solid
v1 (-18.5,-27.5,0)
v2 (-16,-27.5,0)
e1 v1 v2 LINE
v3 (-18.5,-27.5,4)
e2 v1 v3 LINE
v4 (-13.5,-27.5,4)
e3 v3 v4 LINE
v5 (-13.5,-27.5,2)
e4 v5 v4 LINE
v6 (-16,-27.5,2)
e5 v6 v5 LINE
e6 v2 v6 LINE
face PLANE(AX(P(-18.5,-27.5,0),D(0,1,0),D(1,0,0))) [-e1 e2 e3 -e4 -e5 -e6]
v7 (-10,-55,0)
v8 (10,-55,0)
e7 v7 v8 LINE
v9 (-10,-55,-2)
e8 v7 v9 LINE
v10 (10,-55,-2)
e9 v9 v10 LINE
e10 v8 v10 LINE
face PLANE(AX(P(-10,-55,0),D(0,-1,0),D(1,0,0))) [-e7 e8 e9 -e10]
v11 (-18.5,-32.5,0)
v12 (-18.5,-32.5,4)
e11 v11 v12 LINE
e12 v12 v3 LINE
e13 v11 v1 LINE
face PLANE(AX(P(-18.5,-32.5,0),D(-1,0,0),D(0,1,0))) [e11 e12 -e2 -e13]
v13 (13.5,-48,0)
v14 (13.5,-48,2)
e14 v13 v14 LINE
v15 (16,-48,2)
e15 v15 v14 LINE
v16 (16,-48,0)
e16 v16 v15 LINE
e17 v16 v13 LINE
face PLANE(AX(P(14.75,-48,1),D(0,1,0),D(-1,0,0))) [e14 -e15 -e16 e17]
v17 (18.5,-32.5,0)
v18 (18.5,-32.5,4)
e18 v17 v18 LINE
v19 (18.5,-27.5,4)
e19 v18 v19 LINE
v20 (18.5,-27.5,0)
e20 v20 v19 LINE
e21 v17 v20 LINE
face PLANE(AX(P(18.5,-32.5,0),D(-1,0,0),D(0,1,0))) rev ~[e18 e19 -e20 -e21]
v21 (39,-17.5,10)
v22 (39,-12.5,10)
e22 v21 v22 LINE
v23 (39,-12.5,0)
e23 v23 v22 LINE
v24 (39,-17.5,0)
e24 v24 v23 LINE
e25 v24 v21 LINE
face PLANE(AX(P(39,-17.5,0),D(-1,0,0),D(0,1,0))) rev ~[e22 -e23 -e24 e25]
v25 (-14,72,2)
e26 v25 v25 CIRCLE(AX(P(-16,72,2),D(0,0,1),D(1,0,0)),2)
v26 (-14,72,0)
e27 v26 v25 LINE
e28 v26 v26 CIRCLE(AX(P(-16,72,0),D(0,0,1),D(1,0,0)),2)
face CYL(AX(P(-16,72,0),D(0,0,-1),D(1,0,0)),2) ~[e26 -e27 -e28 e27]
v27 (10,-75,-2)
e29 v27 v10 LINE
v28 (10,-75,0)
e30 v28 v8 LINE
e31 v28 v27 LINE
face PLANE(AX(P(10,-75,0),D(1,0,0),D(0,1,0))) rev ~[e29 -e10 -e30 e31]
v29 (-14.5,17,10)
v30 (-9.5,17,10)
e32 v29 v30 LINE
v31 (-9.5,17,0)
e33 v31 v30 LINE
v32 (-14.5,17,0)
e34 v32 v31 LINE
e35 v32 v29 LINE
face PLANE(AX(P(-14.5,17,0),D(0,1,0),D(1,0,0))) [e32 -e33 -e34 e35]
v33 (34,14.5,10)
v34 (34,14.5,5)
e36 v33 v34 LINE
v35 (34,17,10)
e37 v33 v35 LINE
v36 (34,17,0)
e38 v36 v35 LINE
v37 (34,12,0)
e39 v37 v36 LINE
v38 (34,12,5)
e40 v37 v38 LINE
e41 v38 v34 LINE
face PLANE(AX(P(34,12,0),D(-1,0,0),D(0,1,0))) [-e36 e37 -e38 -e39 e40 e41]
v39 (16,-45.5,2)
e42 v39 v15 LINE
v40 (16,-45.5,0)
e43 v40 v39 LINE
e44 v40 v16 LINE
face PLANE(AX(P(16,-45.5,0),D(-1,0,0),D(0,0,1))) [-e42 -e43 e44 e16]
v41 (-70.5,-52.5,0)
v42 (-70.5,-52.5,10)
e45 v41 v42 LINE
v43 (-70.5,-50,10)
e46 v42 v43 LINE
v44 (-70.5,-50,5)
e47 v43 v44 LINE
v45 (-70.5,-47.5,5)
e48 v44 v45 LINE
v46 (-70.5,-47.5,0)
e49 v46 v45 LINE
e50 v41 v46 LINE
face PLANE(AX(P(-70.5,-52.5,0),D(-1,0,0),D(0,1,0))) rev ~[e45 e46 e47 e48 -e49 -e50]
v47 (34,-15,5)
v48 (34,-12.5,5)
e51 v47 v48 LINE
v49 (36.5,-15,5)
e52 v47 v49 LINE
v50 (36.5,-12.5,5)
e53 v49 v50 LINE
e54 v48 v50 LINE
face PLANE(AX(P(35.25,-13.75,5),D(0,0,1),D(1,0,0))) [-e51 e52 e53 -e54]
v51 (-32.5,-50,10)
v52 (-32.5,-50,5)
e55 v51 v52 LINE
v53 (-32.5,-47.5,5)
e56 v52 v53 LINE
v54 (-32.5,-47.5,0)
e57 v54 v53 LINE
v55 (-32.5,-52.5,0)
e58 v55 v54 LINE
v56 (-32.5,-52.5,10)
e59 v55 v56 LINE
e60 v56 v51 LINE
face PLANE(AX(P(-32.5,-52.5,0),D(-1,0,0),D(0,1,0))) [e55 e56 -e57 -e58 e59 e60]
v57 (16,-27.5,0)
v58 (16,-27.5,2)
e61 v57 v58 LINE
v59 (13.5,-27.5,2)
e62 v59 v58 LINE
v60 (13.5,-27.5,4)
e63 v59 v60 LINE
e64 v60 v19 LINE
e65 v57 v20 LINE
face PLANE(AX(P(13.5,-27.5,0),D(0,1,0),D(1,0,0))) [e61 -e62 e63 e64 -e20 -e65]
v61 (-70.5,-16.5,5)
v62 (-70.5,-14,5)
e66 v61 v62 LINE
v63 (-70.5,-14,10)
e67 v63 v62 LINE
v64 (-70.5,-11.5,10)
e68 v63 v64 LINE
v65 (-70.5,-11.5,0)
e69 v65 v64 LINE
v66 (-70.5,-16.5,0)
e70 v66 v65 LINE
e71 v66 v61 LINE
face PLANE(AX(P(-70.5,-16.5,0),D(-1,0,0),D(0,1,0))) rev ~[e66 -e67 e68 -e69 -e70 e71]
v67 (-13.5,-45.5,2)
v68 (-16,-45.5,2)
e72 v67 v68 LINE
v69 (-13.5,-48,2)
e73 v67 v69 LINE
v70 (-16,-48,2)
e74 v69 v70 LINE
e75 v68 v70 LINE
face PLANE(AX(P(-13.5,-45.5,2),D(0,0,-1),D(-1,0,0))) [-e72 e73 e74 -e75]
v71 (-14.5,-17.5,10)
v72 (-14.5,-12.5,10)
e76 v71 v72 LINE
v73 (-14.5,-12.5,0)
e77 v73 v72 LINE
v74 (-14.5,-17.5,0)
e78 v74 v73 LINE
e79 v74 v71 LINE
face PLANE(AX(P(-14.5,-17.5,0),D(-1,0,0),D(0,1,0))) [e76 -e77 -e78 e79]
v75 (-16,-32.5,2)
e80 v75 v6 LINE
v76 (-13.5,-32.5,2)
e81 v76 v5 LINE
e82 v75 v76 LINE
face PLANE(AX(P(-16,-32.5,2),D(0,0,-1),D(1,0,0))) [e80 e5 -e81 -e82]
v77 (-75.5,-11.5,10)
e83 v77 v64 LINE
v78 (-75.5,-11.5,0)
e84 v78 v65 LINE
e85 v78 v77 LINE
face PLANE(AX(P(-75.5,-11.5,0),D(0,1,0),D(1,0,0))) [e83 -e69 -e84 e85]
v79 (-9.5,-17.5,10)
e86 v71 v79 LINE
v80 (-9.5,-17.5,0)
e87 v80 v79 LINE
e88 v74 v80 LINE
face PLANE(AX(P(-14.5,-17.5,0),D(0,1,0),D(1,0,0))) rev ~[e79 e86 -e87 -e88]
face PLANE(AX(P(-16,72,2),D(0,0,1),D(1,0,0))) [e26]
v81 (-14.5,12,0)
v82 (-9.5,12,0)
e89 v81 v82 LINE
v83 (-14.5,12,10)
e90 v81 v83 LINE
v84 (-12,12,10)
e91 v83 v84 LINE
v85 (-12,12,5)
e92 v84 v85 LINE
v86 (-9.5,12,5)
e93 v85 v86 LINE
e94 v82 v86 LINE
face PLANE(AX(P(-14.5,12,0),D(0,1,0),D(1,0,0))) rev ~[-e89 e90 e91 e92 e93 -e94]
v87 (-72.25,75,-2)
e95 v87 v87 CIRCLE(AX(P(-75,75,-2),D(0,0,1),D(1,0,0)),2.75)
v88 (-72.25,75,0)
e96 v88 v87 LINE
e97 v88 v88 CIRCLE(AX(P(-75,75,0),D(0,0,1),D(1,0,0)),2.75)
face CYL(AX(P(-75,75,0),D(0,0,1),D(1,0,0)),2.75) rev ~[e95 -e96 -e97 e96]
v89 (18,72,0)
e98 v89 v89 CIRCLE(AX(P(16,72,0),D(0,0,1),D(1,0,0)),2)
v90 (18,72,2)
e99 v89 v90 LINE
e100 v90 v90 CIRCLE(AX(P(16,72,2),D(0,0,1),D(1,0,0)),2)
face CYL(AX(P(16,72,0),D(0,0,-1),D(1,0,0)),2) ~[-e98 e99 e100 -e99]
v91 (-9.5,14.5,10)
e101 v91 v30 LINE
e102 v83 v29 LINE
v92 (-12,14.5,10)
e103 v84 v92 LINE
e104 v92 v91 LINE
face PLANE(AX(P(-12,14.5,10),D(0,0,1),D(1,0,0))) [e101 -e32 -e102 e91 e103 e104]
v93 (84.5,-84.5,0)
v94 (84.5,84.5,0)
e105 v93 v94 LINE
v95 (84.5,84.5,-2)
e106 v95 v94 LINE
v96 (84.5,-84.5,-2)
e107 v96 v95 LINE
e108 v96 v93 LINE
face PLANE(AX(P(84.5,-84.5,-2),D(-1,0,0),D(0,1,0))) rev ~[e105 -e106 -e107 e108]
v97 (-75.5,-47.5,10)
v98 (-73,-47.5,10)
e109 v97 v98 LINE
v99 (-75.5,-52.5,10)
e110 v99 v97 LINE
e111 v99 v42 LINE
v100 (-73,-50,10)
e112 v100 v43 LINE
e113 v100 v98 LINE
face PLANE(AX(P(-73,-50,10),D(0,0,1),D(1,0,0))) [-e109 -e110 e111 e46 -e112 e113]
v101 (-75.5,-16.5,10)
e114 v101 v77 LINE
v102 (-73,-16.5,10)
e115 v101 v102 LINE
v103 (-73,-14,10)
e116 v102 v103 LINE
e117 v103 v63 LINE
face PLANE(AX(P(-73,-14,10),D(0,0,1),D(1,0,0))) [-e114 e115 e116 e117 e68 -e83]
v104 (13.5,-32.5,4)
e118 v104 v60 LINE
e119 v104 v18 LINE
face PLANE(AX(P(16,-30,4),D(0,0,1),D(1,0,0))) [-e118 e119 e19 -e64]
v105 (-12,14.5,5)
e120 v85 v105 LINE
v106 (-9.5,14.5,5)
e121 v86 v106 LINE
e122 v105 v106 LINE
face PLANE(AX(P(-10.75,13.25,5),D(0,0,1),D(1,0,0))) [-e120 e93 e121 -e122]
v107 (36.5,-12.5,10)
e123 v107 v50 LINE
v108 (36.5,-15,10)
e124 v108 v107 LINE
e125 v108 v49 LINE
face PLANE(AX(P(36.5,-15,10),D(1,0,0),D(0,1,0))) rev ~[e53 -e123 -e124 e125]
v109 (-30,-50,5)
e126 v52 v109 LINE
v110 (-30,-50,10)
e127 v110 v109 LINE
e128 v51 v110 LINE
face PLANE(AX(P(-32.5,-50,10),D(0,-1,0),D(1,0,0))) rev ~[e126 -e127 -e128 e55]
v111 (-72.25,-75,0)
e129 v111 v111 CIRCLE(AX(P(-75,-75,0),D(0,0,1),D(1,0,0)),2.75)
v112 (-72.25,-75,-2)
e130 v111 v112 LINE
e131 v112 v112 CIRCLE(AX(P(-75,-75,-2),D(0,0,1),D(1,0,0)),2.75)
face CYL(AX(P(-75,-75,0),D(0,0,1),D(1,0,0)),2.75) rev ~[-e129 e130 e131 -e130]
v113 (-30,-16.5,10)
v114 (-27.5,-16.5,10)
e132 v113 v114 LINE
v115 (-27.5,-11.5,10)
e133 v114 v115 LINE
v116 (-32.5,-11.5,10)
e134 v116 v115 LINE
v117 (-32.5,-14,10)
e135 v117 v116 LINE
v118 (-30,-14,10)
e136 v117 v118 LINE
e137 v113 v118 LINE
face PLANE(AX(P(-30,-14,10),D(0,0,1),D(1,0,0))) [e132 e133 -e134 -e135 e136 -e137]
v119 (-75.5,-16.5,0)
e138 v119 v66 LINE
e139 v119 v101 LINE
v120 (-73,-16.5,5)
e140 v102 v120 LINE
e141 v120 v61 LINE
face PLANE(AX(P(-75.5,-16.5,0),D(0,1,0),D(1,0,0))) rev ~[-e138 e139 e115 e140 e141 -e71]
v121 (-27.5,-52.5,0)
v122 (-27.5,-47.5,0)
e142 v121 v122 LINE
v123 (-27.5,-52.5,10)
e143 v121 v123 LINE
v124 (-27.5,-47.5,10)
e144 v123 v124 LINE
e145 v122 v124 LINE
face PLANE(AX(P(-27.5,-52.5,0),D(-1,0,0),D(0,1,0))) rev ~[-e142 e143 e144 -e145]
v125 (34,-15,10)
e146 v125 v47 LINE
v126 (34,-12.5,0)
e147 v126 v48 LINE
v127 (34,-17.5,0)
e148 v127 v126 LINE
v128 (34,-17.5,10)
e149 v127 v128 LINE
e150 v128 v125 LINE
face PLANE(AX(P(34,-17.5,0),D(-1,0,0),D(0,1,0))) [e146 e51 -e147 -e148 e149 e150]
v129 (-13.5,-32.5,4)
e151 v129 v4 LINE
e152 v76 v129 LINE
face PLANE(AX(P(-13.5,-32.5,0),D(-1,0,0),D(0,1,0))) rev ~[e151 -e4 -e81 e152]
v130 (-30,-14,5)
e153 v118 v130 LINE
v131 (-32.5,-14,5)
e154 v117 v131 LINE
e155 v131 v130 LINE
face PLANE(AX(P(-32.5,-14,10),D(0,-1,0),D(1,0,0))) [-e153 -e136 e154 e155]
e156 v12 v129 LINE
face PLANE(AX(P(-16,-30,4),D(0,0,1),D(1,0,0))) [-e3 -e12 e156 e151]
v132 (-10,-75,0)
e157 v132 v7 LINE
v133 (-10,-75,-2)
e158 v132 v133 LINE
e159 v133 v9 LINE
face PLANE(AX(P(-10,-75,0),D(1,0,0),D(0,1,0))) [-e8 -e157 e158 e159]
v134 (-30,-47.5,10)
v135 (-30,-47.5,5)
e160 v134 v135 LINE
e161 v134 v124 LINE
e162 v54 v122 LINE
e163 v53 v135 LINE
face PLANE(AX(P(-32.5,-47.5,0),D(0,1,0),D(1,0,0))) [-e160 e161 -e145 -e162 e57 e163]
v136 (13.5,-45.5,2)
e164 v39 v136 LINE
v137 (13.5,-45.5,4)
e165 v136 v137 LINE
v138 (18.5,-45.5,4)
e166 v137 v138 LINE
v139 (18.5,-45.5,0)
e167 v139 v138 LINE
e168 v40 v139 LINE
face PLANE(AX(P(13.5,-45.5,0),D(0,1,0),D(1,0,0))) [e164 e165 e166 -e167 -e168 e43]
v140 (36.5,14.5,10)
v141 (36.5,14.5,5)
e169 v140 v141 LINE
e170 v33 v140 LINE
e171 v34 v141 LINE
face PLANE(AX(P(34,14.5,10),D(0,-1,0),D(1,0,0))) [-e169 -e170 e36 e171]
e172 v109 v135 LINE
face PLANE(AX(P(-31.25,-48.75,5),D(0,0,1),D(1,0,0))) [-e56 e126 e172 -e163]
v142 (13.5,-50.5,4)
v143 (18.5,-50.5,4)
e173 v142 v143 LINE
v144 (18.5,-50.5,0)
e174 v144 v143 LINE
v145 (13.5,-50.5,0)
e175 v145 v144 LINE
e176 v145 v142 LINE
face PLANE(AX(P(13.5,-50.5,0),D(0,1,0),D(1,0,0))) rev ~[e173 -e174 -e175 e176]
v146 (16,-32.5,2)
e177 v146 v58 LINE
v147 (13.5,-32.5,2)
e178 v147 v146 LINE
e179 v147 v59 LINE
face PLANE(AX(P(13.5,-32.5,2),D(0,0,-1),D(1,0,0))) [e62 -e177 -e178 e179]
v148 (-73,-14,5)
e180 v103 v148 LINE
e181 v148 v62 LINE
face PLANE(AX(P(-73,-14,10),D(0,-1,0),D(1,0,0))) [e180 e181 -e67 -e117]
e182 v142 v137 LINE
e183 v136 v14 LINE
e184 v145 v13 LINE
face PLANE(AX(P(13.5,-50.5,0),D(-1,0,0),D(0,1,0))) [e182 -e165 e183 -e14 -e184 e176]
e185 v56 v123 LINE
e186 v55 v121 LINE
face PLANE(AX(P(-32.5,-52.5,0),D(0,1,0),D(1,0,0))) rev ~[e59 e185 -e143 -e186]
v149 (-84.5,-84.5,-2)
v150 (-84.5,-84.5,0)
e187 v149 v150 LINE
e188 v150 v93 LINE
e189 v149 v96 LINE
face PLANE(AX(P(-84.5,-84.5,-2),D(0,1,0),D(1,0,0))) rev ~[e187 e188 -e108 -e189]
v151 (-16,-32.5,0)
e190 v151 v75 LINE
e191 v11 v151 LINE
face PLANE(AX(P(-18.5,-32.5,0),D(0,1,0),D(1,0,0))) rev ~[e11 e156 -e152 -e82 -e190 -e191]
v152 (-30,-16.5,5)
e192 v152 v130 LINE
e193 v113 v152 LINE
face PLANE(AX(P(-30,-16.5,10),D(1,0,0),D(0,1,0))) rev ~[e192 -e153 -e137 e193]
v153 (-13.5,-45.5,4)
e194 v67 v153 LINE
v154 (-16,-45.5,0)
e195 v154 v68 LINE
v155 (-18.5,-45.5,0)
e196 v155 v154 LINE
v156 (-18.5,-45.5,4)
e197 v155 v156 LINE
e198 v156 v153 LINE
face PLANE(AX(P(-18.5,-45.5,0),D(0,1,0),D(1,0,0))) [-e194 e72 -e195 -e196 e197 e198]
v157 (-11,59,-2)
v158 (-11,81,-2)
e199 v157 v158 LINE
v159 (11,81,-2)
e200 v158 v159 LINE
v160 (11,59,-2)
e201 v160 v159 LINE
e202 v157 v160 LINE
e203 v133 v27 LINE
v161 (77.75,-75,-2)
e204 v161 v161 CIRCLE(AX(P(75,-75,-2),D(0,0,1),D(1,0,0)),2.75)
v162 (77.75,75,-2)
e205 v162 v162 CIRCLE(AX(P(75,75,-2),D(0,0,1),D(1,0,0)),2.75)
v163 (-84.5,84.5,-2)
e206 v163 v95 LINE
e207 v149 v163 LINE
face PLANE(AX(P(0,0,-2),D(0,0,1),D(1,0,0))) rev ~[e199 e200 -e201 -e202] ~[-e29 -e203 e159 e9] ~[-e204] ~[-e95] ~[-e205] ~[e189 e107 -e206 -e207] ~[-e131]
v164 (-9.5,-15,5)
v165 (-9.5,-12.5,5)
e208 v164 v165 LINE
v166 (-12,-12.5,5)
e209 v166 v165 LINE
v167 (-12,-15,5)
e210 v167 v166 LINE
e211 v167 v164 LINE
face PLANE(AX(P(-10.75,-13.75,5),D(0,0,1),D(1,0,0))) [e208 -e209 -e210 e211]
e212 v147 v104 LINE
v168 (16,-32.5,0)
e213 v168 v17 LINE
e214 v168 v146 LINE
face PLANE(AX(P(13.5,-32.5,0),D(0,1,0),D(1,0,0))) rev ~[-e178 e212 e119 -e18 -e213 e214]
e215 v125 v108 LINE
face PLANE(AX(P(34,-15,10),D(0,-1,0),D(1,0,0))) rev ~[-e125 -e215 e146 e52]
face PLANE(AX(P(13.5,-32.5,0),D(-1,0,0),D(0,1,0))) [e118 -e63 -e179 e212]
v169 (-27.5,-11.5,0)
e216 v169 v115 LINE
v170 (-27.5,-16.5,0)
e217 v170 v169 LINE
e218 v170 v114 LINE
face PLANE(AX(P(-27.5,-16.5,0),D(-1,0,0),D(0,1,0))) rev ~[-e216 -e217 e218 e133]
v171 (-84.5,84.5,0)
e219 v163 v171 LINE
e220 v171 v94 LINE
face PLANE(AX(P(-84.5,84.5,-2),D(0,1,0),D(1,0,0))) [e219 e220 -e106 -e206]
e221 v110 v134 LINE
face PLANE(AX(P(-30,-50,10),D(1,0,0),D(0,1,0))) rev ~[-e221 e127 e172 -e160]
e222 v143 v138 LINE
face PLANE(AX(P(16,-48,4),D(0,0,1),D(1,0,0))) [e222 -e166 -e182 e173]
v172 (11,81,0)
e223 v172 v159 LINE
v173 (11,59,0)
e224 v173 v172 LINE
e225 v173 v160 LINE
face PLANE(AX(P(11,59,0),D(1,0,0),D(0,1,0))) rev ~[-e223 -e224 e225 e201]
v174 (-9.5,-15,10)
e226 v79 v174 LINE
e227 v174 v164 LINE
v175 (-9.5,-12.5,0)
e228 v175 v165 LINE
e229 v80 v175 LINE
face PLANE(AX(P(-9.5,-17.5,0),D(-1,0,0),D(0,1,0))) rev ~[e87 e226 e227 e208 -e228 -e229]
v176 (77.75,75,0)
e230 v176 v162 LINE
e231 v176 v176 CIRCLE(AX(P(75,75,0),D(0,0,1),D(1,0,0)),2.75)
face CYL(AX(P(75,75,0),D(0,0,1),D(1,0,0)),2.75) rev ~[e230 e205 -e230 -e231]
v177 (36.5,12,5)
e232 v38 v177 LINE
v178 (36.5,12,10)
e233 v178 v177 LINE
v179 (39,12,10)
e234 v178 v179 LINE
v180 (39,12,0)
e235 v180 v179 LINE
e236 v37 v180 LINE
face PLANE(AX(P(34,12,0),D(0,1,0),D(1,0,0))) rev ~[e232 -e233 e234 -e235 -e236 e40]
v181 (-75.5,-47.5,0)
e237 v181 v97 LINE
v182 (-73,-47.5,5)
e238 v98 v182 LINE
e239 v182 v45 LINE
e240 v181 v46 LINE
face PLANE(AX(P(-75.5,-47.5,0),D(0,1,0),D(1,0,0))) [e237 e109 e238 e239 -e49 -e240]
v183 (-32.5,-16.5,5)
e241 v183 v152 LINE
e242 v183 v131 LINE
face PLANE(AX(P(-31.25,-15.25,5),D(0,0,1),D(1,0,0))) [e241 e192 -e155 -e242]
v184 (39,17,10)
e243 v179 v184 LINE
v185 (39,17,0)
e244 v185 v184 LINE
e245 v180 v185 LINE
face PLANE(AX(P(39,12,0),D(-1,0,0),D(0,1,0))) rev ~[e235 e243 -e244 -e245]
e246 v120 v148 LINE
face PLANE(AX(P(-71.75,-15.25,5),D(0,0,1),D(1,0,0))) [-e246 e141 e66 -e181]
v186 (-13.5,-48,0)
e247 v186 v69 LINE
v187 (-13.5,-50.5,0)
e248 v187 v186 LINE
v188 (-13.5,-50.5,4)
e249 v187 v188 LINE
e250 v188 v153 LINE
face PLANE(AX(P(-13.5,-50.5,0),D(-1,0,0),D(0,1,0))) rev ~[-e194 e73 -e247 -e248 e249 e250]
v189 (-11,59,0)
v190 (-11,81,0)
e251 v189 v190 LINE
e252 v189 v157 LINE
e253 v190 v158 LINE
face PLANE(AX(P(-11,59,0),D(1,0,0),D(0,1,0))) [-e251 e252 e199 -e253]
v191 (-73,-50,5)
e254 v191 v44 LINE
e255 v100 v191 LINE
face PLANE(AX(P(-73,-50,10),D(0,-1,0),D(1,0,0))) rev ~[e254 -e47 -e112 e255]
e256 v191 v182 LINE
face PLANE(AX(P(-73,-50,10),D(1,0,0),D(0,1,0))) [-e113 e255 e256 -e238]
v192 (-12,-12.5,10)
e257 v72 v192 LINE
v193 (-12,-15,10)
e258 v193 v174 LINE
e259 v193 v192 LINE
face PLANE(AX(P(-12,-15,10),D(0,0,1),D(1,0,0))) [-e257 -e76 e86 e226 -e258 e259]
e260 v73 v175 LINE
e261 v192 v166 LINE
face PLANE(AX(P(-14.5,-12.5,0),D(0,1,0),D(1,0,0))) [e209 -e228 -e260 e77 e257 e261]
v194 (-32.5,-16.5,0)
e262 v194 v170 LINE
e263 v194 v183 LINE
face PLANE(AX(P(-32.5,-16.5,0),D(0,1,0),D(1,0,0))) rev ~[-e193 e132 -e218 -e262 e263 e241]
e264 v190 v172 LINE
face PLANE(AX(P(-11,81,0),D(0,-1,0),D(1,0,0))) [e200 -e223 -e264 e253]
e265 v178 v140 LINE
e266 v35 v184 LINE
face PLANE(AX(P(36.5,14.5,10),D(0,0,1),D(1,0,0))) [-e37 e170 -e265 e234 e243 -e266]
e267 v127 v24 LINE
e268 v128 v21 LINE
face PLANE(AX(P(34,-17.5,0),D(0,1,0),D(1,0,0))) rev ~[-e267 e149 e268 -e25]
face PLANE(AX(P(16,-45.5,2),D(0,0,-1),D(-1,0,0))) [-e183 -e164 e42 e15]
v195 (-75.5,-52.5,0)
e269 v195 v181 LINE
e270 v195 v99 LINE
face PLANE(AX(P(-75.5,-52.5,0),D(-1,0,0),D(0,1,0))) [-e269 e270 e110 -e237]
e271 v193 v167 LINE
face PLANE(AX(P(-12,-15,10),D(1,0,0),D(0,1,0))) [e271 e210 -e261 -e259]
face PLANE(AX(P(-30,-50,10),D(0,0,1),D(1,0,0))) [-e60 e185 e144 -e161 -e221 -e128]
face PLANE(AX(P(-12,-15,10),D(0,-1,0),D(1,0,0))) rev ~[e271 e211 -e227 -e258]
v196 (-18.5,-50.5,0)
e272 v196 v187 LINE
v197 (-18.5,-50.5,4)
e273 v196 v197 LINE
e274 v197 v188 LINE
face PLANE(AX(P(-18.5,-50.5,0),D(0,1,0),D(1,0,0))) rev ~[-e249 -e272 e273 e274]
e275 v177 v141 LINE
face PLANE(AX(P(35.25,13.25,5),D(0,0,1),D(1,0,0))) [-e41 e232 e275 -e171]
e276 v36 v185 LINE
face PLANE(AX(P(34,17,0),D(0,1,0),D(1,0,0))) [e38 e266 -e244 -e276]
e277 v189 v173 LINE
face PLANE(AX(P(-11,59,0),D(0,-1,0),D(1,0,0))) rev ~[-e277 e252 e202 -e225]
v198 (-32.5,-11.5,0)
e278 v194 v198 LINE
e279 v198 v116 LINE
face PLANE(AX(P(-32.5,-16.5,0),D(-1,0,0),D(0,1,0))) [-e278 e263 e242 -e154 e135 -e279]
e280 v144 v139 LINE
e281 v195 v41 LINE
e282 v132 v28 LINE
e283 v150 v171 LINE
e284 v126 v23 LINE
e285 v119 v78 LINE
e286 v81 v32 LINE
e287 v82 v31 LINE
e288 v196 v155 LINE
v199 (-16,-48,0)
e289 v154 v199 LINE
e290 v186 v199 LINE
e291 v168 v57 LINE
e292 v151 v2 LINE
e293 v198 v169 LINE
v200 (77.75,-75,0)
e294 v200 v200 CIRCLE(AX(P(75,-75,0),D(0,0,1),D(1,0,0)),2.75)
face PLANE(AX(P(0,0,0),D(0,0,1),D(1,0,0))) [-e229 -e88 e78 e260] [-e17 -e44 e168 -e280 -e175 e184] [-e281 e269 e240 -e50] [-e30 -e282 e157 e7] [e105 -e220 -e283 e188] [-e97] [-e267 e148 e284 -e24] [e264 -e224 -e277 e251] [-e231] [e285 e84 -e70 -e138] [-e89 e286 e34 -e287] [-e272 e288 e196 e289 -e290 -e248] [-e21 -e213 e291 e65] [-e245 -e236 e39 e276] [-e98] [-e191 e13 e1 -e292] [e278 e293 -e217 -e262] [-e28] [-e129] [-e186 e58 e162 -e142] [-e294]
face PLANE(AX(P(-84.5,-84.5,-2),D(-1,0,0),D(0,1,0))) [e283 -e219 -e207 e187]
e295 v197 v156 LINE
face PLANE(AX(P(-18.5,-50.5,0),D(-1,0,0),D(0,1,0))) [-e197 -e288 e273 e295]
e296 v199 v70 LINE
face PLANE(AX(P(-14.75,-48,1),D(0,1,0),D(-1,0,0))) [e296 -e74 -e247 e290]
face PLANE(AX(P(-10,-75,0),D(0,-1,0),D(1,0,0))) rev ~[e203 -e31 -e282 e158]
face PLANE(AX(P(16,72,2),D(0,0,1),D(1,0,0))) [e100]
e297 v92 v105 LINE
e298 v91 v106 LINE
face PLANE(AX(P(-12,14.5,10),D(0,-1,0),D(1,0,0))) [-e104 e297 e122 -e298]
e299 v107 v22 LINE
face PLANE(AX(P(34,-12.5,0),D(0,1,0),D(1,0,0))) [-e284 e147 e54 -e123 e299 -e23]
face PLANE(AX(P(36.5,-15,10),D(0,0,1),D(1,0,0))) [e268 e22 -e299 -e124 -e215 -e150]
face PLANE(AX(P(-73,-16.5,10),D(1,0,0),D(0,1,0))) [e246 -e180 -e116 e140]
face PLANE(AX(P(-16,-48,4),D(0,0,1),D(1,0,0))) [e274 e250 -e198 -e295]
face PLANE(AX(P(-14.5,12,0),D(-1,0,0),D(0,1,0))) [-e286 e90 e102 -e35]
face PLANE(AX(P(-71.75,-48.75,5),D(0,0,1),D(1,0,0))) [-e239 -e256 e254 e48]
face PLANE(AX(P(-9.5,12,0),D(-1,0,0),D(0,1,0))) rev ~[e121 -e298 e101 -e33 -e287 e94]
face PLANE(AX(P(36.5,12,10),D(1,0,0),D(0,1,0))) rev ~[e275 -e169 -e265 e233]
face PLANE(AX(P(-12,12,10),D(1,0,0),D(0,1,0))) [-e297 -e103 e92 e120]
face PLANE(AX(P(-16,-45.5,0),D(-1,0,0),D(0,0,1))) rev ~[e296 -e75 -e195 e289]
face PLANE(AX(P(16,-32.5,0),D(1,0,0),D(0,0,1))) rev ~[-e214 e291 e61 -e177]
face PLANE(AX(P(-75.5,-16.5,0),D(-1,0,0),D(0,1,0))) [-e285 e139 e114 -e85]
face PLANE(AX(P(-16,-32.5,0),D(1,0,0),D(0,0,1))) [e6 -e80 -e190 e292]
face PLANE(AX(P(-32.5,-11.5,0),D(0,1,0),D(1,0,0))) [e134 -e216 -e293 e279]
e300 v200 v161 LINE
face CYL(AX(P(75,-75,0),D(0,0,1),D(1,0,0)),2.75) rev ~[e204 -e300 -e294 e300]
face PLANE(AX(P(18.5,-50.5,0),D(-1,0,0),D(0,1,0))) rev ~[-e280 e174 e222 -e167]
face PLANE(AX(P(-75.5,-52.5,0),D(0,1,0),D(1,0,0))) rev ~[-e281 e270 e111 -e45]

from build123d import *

# Parameters (mm, degrees)
SKETCH_W        = 169
SKETCH_H        = 169
PAD_DEPTH       = 2
SKETCH002_W     = 20
SKETCH002_H     = 20
SKETCH002_W_2   = 22
SKETCH002_H_2   = 22
POCKET001_DEPTH = 2
SKETCH003_R     = 2
PAD001_DEPTH    = 2
SKETCH005_W     = 5
SKETCH005_H     = 5
PAD003_DEPTH    = 10
SKETCH007_W     = 5
SKETCH007_H     = 5
PAD004_DEPTH    = 10
SKETCH001_R     = 2.75
POCKET_DEPTH    = 2.001
SKETCH016_W     = 5
SKETCH016_H     = 5
PAD005_DEPTH    = 4
SKETCH017_W     = 2.5
SKETCH017_H     = 2
POCKET010_DEPTH = 5
SKETCH018_W     = 2.5
SKETCH018_H     = 2
POCKET011_DEPTH = 5
SKETCH019_W     = 2.5
SKETCH019_H     = 2
POCKET012_DEPTH = 2.5
SKETCH020_W     = 2.5
SKETCH020_H     = 2
POCKET013_DEPTH = 2.5
SKETCH021_W     = 2.5
SKETCH021_H     = 2.5
POCKET014_DEPTH = 5
SKETCH022_W     = 2.5
SKETCH022_H     = 2.5
POCKET015_DEPTH = 5
SKETCH023_W     = 2.5
SKETCH023_H     = 2.5
POCKET016_DEPTH = 5
SKETCH024_W     = 2.5
SKETCH024_H     = 2.5
POCKET017_DEPTH = 5
SKETCH025_W     = 2.5
SKETCH025_H     = 2.5
POCKET018_DEPTH = 5
SKETCH026_W     = 2.5
SKETCH026_H     = 2.5
POCKET019_DEPTH = 5
SKETCH027_W     = 2.5
SKETCH027_H     = 2.5
POCKET020_DEPTH = 5
SKETCH028_W     = 2.5
SKETCH028_H     = 2.5
POCKET021_DEPTH = 5


with BuildPart() as part:
    # Sketch (on DatumPlane) → Pad (new body)
    with BuildSketch(Plane.XY.offset(-2)):
        Rectangle(SKETCH_W, SKETCH_H)
    extrude(amount=PAD_DEPTH)

    # Sketch002 (on DatumPlane) → Pocket001 (cut)
    with BuildSketch(Plane.XY):
        with Locations((0, -65)):
            Rectangle(SKETCH002_W, SKETCH002_H)
        with Locations((0, 70)):
            Rectangle(SKETCH002_W_2, SKETCH002_H_2)
    extrude(amount=-POCKET001_DEPTH, mode=Mode.SUBTRACT)

    # Sketch003 (on DatumPlane) → Pad001 (join)
    with BuildSketch(Plane.XY):
        with Locations((-16, 72)):
            Circle(SKETCH003_R)
        with Locations((16, 72)):
            Circle(SKETCH003_R)
    extrude(amount=PAD001_DEPTH)

    # Sketch005 (on DatumPlane) → Pad003 (join)
    with BuildSketch(Plane.XY):
        with Locations((-12, 14.5)):
            Rectangle(SKETCH005_W, SKETCH005_H)
        with Locations((36.5, 14.5)):
            Rectangle(SKETCH005_W, SKETCH005_H)
        with Locations((-12, -15)):
            Rectangle(SKETCH005_W, SKETCH005_H)
        with Locations((36.5, -15)):
            Rectangle(SKETCH005_W, SKETCH005_H)
    extrude(amount=PAD003_DEPTH)

    # Sketch007 (on DatumPlane) → Pad004 (join)
    with BuildSketch(Plane.XY):
        with Locations((-73, -14)):
            Rectangle(SKETCH007_W, SKETCH007_H)
        with Locations((-30, -14)):
            Rectangle(SKETCH007_W, SKETCH007_H)
        with Locations((-73, -50)):
            Rectangle(SKETCH007_W, SKETCH007_H)
        with Locations((-30, -50)):
            Rectangle(SKETCH007_W, SKETCH007_H)
    extrude(amount=PAD004_DEPTH)

    # Sketch001 (on DatumPlane) → Pocket (cut, through all)
    with BuildSketch(Plane.XY):
        with Locations((75, 75)):
            Circle(SKETCH001_R)
        with Locations((75, -75)):
            Circle(SKETCH001_R)
        with Locations((-75, -75)):
            Circle(SKETCH001_R)
        with Locations((-75, 75)):
            Circle(SKETCH001_R)
    extrude(amount=-POCKET_DEPTH, mode=Mode.SUBTRACT)

    # Sketch016 (on DatumPlane) → Pad005 (join)
    with BuildSketch(Plane.XY):
        with Locations((-16, -30)):
            Rectangle(SKETCH016_W, SKETCH016_H)
        with Locations((16, -30)):
            Rectangle(SKETCH016_W, SKETCH016_H)
        with Locations((-16, -48)):
            Rectangle(SKETCH016_W, SKETCH016_H)
        with Locations((16, -48)):
            Rectangle(SKETCH016_W, SKETCH016_H)
    extrude(amount=PAD005_DEPTH)

    # Sketch017 (on Face36 of Pad005) → Pocket010 (cut)
    with BuildSketch(Plane.XZ.offset(32.5)):
        with Locations((-14.75, 1)):
            Rectangle(SKETCH017_W, SKETCH017_H)
    extrude(amount=-POCKET010_DEPTH, mode=Mode.SUBTRACT)

    # Sketch018 (on Face60 of Pocket010) → Pocket011 (cut)
    with BuildSketch(Plane.XZ.offset(32.5)):
        with Locations((14.75, 1)):
            Rectangle(SKETCH018_W, SKETCH018_H)
    extrude(amount=-POCKET011_DEPTH, mode=Mode.SUBTRACT)

    # Sketch019 (on Face35 of Pocket011) → Pocket012 (cut)
    with BuildSketch(Plane(origin=(0, -45.5, 0), x_dir=(-1, 0, 0), z_dir=(0, 1, 0))):
        with Locations((-14.75, 1)):
            Rectangle(SKETCH019_W, SKETCH019_H)
    extrude(amount=-POCKET012_DEPTH, mode=Mode.SUBTRACT)

    # Sketch020 (on Face38 of Pocket012) → Pocket013 (cut)
    with BuildSketch(Plane(origin=(0, -45.5, 0), x_dir=(-1, 0, 0), z_dir=(0, 1, 0))):
        with Locations((14.75, 1)):
            Rectangle(SKETCH020_W, SKETCH020_H)
    extrude(amount=-POCKET013_DEPTH, mode=Mode.SUBTRACT)

    # Sketch021 (on Face36 of Pocket013) → Pocket014 (cut)
    with BuildSketch(Plane.XY.offset(10)):
        with Locations((-71.75, -15.25)):
            Rectangle(SKETCH021_W, SKETCH021_H)
    extrude(amount=-POCKET014_DEPTH, mode=Mode.SUBTRACT)

    # Sketch022 (on Face87 of Pocket014) → Pocket015 (cut)
    with BuildSketch(Plane.XY.offset(10)):
        with Locations((-31.25, -15.25)):
            Rectangle(SKETCH022_W, SKETCH022_H)
    extrude(amount=-POCKET015_DEPTH, mode=Mode.SUBTRACT)

    # Sketch023 (on Face85 of Pocket015) → Pocket016 (cut)
    with BuildSketch(Plane.XY.offset(10)):
        with Locations((-71.75, -48.75)):
            Rectangle(SKETCH023_W, SKETCH023_H)
    extrude(amount=-POCKET016_DEPTH, mode=Mode.SUBTRACT)

    # Sketch024 (on Face73 of Pocket016) → Pocket017 (cut)
    with BuildSketch(Plane.XY.offset(10)):
        with Locations((-31.25, -48.75)):
            Rectangle(SKETCH024_W, SKETCH024_H)
    extrude(amount=-POCKET017_DEPTH, mode=Mode.SUBTRACT)

    # Sketch025 (on Face92 of Pocket017) → Pocket018 (cut)
    with BuildSketch(Plane.XY.offset(10)):
        with Locations((-10.75, 13.25)):
            Rectangle(SKETCH025_W, SKETCH025_H)
    extrude(amount=-POCKET018_DEPTH, mode=Mode.SUBTRACT)

    # Sketch026 (on Face87 of Pocket018) → Pocket019 (cut)
    with BuildSketch(Plane.XY.offset(10)):
        with Locations((35.25, 13.25)):
            Rectangle(SKETCH026_W, SKETCH026_H)
    extrude(amount=-POCKET019_DEPTH, mode=Mode.SUBTRACT)

    # Sketch027 (on Face85 of Pocket019) → Pocket020 (cut)
    with BuildSketch(Plane.XY.offset(10)):
        with Locations((-10.75, -13.75)):
            Rectangle(SKETCH027_W, SKETCH027_H)
    extrude(amount=-POCKET020_DEPTH, mode=Mode.SUBTRACT)

    # Sketch028 (on Face89 of Pocket020) → Pocket021 (cut)
    with BuildSketch(Plane.XY.offset(10)):
        with Locations((35.25, -13.75)):
            Rectangle(SKETCH028_W, SKETCH028_H)
    extrude(amount=-POCKET021_DEPTH, mode=Mode.SUBTRACT)


solid = part.part
